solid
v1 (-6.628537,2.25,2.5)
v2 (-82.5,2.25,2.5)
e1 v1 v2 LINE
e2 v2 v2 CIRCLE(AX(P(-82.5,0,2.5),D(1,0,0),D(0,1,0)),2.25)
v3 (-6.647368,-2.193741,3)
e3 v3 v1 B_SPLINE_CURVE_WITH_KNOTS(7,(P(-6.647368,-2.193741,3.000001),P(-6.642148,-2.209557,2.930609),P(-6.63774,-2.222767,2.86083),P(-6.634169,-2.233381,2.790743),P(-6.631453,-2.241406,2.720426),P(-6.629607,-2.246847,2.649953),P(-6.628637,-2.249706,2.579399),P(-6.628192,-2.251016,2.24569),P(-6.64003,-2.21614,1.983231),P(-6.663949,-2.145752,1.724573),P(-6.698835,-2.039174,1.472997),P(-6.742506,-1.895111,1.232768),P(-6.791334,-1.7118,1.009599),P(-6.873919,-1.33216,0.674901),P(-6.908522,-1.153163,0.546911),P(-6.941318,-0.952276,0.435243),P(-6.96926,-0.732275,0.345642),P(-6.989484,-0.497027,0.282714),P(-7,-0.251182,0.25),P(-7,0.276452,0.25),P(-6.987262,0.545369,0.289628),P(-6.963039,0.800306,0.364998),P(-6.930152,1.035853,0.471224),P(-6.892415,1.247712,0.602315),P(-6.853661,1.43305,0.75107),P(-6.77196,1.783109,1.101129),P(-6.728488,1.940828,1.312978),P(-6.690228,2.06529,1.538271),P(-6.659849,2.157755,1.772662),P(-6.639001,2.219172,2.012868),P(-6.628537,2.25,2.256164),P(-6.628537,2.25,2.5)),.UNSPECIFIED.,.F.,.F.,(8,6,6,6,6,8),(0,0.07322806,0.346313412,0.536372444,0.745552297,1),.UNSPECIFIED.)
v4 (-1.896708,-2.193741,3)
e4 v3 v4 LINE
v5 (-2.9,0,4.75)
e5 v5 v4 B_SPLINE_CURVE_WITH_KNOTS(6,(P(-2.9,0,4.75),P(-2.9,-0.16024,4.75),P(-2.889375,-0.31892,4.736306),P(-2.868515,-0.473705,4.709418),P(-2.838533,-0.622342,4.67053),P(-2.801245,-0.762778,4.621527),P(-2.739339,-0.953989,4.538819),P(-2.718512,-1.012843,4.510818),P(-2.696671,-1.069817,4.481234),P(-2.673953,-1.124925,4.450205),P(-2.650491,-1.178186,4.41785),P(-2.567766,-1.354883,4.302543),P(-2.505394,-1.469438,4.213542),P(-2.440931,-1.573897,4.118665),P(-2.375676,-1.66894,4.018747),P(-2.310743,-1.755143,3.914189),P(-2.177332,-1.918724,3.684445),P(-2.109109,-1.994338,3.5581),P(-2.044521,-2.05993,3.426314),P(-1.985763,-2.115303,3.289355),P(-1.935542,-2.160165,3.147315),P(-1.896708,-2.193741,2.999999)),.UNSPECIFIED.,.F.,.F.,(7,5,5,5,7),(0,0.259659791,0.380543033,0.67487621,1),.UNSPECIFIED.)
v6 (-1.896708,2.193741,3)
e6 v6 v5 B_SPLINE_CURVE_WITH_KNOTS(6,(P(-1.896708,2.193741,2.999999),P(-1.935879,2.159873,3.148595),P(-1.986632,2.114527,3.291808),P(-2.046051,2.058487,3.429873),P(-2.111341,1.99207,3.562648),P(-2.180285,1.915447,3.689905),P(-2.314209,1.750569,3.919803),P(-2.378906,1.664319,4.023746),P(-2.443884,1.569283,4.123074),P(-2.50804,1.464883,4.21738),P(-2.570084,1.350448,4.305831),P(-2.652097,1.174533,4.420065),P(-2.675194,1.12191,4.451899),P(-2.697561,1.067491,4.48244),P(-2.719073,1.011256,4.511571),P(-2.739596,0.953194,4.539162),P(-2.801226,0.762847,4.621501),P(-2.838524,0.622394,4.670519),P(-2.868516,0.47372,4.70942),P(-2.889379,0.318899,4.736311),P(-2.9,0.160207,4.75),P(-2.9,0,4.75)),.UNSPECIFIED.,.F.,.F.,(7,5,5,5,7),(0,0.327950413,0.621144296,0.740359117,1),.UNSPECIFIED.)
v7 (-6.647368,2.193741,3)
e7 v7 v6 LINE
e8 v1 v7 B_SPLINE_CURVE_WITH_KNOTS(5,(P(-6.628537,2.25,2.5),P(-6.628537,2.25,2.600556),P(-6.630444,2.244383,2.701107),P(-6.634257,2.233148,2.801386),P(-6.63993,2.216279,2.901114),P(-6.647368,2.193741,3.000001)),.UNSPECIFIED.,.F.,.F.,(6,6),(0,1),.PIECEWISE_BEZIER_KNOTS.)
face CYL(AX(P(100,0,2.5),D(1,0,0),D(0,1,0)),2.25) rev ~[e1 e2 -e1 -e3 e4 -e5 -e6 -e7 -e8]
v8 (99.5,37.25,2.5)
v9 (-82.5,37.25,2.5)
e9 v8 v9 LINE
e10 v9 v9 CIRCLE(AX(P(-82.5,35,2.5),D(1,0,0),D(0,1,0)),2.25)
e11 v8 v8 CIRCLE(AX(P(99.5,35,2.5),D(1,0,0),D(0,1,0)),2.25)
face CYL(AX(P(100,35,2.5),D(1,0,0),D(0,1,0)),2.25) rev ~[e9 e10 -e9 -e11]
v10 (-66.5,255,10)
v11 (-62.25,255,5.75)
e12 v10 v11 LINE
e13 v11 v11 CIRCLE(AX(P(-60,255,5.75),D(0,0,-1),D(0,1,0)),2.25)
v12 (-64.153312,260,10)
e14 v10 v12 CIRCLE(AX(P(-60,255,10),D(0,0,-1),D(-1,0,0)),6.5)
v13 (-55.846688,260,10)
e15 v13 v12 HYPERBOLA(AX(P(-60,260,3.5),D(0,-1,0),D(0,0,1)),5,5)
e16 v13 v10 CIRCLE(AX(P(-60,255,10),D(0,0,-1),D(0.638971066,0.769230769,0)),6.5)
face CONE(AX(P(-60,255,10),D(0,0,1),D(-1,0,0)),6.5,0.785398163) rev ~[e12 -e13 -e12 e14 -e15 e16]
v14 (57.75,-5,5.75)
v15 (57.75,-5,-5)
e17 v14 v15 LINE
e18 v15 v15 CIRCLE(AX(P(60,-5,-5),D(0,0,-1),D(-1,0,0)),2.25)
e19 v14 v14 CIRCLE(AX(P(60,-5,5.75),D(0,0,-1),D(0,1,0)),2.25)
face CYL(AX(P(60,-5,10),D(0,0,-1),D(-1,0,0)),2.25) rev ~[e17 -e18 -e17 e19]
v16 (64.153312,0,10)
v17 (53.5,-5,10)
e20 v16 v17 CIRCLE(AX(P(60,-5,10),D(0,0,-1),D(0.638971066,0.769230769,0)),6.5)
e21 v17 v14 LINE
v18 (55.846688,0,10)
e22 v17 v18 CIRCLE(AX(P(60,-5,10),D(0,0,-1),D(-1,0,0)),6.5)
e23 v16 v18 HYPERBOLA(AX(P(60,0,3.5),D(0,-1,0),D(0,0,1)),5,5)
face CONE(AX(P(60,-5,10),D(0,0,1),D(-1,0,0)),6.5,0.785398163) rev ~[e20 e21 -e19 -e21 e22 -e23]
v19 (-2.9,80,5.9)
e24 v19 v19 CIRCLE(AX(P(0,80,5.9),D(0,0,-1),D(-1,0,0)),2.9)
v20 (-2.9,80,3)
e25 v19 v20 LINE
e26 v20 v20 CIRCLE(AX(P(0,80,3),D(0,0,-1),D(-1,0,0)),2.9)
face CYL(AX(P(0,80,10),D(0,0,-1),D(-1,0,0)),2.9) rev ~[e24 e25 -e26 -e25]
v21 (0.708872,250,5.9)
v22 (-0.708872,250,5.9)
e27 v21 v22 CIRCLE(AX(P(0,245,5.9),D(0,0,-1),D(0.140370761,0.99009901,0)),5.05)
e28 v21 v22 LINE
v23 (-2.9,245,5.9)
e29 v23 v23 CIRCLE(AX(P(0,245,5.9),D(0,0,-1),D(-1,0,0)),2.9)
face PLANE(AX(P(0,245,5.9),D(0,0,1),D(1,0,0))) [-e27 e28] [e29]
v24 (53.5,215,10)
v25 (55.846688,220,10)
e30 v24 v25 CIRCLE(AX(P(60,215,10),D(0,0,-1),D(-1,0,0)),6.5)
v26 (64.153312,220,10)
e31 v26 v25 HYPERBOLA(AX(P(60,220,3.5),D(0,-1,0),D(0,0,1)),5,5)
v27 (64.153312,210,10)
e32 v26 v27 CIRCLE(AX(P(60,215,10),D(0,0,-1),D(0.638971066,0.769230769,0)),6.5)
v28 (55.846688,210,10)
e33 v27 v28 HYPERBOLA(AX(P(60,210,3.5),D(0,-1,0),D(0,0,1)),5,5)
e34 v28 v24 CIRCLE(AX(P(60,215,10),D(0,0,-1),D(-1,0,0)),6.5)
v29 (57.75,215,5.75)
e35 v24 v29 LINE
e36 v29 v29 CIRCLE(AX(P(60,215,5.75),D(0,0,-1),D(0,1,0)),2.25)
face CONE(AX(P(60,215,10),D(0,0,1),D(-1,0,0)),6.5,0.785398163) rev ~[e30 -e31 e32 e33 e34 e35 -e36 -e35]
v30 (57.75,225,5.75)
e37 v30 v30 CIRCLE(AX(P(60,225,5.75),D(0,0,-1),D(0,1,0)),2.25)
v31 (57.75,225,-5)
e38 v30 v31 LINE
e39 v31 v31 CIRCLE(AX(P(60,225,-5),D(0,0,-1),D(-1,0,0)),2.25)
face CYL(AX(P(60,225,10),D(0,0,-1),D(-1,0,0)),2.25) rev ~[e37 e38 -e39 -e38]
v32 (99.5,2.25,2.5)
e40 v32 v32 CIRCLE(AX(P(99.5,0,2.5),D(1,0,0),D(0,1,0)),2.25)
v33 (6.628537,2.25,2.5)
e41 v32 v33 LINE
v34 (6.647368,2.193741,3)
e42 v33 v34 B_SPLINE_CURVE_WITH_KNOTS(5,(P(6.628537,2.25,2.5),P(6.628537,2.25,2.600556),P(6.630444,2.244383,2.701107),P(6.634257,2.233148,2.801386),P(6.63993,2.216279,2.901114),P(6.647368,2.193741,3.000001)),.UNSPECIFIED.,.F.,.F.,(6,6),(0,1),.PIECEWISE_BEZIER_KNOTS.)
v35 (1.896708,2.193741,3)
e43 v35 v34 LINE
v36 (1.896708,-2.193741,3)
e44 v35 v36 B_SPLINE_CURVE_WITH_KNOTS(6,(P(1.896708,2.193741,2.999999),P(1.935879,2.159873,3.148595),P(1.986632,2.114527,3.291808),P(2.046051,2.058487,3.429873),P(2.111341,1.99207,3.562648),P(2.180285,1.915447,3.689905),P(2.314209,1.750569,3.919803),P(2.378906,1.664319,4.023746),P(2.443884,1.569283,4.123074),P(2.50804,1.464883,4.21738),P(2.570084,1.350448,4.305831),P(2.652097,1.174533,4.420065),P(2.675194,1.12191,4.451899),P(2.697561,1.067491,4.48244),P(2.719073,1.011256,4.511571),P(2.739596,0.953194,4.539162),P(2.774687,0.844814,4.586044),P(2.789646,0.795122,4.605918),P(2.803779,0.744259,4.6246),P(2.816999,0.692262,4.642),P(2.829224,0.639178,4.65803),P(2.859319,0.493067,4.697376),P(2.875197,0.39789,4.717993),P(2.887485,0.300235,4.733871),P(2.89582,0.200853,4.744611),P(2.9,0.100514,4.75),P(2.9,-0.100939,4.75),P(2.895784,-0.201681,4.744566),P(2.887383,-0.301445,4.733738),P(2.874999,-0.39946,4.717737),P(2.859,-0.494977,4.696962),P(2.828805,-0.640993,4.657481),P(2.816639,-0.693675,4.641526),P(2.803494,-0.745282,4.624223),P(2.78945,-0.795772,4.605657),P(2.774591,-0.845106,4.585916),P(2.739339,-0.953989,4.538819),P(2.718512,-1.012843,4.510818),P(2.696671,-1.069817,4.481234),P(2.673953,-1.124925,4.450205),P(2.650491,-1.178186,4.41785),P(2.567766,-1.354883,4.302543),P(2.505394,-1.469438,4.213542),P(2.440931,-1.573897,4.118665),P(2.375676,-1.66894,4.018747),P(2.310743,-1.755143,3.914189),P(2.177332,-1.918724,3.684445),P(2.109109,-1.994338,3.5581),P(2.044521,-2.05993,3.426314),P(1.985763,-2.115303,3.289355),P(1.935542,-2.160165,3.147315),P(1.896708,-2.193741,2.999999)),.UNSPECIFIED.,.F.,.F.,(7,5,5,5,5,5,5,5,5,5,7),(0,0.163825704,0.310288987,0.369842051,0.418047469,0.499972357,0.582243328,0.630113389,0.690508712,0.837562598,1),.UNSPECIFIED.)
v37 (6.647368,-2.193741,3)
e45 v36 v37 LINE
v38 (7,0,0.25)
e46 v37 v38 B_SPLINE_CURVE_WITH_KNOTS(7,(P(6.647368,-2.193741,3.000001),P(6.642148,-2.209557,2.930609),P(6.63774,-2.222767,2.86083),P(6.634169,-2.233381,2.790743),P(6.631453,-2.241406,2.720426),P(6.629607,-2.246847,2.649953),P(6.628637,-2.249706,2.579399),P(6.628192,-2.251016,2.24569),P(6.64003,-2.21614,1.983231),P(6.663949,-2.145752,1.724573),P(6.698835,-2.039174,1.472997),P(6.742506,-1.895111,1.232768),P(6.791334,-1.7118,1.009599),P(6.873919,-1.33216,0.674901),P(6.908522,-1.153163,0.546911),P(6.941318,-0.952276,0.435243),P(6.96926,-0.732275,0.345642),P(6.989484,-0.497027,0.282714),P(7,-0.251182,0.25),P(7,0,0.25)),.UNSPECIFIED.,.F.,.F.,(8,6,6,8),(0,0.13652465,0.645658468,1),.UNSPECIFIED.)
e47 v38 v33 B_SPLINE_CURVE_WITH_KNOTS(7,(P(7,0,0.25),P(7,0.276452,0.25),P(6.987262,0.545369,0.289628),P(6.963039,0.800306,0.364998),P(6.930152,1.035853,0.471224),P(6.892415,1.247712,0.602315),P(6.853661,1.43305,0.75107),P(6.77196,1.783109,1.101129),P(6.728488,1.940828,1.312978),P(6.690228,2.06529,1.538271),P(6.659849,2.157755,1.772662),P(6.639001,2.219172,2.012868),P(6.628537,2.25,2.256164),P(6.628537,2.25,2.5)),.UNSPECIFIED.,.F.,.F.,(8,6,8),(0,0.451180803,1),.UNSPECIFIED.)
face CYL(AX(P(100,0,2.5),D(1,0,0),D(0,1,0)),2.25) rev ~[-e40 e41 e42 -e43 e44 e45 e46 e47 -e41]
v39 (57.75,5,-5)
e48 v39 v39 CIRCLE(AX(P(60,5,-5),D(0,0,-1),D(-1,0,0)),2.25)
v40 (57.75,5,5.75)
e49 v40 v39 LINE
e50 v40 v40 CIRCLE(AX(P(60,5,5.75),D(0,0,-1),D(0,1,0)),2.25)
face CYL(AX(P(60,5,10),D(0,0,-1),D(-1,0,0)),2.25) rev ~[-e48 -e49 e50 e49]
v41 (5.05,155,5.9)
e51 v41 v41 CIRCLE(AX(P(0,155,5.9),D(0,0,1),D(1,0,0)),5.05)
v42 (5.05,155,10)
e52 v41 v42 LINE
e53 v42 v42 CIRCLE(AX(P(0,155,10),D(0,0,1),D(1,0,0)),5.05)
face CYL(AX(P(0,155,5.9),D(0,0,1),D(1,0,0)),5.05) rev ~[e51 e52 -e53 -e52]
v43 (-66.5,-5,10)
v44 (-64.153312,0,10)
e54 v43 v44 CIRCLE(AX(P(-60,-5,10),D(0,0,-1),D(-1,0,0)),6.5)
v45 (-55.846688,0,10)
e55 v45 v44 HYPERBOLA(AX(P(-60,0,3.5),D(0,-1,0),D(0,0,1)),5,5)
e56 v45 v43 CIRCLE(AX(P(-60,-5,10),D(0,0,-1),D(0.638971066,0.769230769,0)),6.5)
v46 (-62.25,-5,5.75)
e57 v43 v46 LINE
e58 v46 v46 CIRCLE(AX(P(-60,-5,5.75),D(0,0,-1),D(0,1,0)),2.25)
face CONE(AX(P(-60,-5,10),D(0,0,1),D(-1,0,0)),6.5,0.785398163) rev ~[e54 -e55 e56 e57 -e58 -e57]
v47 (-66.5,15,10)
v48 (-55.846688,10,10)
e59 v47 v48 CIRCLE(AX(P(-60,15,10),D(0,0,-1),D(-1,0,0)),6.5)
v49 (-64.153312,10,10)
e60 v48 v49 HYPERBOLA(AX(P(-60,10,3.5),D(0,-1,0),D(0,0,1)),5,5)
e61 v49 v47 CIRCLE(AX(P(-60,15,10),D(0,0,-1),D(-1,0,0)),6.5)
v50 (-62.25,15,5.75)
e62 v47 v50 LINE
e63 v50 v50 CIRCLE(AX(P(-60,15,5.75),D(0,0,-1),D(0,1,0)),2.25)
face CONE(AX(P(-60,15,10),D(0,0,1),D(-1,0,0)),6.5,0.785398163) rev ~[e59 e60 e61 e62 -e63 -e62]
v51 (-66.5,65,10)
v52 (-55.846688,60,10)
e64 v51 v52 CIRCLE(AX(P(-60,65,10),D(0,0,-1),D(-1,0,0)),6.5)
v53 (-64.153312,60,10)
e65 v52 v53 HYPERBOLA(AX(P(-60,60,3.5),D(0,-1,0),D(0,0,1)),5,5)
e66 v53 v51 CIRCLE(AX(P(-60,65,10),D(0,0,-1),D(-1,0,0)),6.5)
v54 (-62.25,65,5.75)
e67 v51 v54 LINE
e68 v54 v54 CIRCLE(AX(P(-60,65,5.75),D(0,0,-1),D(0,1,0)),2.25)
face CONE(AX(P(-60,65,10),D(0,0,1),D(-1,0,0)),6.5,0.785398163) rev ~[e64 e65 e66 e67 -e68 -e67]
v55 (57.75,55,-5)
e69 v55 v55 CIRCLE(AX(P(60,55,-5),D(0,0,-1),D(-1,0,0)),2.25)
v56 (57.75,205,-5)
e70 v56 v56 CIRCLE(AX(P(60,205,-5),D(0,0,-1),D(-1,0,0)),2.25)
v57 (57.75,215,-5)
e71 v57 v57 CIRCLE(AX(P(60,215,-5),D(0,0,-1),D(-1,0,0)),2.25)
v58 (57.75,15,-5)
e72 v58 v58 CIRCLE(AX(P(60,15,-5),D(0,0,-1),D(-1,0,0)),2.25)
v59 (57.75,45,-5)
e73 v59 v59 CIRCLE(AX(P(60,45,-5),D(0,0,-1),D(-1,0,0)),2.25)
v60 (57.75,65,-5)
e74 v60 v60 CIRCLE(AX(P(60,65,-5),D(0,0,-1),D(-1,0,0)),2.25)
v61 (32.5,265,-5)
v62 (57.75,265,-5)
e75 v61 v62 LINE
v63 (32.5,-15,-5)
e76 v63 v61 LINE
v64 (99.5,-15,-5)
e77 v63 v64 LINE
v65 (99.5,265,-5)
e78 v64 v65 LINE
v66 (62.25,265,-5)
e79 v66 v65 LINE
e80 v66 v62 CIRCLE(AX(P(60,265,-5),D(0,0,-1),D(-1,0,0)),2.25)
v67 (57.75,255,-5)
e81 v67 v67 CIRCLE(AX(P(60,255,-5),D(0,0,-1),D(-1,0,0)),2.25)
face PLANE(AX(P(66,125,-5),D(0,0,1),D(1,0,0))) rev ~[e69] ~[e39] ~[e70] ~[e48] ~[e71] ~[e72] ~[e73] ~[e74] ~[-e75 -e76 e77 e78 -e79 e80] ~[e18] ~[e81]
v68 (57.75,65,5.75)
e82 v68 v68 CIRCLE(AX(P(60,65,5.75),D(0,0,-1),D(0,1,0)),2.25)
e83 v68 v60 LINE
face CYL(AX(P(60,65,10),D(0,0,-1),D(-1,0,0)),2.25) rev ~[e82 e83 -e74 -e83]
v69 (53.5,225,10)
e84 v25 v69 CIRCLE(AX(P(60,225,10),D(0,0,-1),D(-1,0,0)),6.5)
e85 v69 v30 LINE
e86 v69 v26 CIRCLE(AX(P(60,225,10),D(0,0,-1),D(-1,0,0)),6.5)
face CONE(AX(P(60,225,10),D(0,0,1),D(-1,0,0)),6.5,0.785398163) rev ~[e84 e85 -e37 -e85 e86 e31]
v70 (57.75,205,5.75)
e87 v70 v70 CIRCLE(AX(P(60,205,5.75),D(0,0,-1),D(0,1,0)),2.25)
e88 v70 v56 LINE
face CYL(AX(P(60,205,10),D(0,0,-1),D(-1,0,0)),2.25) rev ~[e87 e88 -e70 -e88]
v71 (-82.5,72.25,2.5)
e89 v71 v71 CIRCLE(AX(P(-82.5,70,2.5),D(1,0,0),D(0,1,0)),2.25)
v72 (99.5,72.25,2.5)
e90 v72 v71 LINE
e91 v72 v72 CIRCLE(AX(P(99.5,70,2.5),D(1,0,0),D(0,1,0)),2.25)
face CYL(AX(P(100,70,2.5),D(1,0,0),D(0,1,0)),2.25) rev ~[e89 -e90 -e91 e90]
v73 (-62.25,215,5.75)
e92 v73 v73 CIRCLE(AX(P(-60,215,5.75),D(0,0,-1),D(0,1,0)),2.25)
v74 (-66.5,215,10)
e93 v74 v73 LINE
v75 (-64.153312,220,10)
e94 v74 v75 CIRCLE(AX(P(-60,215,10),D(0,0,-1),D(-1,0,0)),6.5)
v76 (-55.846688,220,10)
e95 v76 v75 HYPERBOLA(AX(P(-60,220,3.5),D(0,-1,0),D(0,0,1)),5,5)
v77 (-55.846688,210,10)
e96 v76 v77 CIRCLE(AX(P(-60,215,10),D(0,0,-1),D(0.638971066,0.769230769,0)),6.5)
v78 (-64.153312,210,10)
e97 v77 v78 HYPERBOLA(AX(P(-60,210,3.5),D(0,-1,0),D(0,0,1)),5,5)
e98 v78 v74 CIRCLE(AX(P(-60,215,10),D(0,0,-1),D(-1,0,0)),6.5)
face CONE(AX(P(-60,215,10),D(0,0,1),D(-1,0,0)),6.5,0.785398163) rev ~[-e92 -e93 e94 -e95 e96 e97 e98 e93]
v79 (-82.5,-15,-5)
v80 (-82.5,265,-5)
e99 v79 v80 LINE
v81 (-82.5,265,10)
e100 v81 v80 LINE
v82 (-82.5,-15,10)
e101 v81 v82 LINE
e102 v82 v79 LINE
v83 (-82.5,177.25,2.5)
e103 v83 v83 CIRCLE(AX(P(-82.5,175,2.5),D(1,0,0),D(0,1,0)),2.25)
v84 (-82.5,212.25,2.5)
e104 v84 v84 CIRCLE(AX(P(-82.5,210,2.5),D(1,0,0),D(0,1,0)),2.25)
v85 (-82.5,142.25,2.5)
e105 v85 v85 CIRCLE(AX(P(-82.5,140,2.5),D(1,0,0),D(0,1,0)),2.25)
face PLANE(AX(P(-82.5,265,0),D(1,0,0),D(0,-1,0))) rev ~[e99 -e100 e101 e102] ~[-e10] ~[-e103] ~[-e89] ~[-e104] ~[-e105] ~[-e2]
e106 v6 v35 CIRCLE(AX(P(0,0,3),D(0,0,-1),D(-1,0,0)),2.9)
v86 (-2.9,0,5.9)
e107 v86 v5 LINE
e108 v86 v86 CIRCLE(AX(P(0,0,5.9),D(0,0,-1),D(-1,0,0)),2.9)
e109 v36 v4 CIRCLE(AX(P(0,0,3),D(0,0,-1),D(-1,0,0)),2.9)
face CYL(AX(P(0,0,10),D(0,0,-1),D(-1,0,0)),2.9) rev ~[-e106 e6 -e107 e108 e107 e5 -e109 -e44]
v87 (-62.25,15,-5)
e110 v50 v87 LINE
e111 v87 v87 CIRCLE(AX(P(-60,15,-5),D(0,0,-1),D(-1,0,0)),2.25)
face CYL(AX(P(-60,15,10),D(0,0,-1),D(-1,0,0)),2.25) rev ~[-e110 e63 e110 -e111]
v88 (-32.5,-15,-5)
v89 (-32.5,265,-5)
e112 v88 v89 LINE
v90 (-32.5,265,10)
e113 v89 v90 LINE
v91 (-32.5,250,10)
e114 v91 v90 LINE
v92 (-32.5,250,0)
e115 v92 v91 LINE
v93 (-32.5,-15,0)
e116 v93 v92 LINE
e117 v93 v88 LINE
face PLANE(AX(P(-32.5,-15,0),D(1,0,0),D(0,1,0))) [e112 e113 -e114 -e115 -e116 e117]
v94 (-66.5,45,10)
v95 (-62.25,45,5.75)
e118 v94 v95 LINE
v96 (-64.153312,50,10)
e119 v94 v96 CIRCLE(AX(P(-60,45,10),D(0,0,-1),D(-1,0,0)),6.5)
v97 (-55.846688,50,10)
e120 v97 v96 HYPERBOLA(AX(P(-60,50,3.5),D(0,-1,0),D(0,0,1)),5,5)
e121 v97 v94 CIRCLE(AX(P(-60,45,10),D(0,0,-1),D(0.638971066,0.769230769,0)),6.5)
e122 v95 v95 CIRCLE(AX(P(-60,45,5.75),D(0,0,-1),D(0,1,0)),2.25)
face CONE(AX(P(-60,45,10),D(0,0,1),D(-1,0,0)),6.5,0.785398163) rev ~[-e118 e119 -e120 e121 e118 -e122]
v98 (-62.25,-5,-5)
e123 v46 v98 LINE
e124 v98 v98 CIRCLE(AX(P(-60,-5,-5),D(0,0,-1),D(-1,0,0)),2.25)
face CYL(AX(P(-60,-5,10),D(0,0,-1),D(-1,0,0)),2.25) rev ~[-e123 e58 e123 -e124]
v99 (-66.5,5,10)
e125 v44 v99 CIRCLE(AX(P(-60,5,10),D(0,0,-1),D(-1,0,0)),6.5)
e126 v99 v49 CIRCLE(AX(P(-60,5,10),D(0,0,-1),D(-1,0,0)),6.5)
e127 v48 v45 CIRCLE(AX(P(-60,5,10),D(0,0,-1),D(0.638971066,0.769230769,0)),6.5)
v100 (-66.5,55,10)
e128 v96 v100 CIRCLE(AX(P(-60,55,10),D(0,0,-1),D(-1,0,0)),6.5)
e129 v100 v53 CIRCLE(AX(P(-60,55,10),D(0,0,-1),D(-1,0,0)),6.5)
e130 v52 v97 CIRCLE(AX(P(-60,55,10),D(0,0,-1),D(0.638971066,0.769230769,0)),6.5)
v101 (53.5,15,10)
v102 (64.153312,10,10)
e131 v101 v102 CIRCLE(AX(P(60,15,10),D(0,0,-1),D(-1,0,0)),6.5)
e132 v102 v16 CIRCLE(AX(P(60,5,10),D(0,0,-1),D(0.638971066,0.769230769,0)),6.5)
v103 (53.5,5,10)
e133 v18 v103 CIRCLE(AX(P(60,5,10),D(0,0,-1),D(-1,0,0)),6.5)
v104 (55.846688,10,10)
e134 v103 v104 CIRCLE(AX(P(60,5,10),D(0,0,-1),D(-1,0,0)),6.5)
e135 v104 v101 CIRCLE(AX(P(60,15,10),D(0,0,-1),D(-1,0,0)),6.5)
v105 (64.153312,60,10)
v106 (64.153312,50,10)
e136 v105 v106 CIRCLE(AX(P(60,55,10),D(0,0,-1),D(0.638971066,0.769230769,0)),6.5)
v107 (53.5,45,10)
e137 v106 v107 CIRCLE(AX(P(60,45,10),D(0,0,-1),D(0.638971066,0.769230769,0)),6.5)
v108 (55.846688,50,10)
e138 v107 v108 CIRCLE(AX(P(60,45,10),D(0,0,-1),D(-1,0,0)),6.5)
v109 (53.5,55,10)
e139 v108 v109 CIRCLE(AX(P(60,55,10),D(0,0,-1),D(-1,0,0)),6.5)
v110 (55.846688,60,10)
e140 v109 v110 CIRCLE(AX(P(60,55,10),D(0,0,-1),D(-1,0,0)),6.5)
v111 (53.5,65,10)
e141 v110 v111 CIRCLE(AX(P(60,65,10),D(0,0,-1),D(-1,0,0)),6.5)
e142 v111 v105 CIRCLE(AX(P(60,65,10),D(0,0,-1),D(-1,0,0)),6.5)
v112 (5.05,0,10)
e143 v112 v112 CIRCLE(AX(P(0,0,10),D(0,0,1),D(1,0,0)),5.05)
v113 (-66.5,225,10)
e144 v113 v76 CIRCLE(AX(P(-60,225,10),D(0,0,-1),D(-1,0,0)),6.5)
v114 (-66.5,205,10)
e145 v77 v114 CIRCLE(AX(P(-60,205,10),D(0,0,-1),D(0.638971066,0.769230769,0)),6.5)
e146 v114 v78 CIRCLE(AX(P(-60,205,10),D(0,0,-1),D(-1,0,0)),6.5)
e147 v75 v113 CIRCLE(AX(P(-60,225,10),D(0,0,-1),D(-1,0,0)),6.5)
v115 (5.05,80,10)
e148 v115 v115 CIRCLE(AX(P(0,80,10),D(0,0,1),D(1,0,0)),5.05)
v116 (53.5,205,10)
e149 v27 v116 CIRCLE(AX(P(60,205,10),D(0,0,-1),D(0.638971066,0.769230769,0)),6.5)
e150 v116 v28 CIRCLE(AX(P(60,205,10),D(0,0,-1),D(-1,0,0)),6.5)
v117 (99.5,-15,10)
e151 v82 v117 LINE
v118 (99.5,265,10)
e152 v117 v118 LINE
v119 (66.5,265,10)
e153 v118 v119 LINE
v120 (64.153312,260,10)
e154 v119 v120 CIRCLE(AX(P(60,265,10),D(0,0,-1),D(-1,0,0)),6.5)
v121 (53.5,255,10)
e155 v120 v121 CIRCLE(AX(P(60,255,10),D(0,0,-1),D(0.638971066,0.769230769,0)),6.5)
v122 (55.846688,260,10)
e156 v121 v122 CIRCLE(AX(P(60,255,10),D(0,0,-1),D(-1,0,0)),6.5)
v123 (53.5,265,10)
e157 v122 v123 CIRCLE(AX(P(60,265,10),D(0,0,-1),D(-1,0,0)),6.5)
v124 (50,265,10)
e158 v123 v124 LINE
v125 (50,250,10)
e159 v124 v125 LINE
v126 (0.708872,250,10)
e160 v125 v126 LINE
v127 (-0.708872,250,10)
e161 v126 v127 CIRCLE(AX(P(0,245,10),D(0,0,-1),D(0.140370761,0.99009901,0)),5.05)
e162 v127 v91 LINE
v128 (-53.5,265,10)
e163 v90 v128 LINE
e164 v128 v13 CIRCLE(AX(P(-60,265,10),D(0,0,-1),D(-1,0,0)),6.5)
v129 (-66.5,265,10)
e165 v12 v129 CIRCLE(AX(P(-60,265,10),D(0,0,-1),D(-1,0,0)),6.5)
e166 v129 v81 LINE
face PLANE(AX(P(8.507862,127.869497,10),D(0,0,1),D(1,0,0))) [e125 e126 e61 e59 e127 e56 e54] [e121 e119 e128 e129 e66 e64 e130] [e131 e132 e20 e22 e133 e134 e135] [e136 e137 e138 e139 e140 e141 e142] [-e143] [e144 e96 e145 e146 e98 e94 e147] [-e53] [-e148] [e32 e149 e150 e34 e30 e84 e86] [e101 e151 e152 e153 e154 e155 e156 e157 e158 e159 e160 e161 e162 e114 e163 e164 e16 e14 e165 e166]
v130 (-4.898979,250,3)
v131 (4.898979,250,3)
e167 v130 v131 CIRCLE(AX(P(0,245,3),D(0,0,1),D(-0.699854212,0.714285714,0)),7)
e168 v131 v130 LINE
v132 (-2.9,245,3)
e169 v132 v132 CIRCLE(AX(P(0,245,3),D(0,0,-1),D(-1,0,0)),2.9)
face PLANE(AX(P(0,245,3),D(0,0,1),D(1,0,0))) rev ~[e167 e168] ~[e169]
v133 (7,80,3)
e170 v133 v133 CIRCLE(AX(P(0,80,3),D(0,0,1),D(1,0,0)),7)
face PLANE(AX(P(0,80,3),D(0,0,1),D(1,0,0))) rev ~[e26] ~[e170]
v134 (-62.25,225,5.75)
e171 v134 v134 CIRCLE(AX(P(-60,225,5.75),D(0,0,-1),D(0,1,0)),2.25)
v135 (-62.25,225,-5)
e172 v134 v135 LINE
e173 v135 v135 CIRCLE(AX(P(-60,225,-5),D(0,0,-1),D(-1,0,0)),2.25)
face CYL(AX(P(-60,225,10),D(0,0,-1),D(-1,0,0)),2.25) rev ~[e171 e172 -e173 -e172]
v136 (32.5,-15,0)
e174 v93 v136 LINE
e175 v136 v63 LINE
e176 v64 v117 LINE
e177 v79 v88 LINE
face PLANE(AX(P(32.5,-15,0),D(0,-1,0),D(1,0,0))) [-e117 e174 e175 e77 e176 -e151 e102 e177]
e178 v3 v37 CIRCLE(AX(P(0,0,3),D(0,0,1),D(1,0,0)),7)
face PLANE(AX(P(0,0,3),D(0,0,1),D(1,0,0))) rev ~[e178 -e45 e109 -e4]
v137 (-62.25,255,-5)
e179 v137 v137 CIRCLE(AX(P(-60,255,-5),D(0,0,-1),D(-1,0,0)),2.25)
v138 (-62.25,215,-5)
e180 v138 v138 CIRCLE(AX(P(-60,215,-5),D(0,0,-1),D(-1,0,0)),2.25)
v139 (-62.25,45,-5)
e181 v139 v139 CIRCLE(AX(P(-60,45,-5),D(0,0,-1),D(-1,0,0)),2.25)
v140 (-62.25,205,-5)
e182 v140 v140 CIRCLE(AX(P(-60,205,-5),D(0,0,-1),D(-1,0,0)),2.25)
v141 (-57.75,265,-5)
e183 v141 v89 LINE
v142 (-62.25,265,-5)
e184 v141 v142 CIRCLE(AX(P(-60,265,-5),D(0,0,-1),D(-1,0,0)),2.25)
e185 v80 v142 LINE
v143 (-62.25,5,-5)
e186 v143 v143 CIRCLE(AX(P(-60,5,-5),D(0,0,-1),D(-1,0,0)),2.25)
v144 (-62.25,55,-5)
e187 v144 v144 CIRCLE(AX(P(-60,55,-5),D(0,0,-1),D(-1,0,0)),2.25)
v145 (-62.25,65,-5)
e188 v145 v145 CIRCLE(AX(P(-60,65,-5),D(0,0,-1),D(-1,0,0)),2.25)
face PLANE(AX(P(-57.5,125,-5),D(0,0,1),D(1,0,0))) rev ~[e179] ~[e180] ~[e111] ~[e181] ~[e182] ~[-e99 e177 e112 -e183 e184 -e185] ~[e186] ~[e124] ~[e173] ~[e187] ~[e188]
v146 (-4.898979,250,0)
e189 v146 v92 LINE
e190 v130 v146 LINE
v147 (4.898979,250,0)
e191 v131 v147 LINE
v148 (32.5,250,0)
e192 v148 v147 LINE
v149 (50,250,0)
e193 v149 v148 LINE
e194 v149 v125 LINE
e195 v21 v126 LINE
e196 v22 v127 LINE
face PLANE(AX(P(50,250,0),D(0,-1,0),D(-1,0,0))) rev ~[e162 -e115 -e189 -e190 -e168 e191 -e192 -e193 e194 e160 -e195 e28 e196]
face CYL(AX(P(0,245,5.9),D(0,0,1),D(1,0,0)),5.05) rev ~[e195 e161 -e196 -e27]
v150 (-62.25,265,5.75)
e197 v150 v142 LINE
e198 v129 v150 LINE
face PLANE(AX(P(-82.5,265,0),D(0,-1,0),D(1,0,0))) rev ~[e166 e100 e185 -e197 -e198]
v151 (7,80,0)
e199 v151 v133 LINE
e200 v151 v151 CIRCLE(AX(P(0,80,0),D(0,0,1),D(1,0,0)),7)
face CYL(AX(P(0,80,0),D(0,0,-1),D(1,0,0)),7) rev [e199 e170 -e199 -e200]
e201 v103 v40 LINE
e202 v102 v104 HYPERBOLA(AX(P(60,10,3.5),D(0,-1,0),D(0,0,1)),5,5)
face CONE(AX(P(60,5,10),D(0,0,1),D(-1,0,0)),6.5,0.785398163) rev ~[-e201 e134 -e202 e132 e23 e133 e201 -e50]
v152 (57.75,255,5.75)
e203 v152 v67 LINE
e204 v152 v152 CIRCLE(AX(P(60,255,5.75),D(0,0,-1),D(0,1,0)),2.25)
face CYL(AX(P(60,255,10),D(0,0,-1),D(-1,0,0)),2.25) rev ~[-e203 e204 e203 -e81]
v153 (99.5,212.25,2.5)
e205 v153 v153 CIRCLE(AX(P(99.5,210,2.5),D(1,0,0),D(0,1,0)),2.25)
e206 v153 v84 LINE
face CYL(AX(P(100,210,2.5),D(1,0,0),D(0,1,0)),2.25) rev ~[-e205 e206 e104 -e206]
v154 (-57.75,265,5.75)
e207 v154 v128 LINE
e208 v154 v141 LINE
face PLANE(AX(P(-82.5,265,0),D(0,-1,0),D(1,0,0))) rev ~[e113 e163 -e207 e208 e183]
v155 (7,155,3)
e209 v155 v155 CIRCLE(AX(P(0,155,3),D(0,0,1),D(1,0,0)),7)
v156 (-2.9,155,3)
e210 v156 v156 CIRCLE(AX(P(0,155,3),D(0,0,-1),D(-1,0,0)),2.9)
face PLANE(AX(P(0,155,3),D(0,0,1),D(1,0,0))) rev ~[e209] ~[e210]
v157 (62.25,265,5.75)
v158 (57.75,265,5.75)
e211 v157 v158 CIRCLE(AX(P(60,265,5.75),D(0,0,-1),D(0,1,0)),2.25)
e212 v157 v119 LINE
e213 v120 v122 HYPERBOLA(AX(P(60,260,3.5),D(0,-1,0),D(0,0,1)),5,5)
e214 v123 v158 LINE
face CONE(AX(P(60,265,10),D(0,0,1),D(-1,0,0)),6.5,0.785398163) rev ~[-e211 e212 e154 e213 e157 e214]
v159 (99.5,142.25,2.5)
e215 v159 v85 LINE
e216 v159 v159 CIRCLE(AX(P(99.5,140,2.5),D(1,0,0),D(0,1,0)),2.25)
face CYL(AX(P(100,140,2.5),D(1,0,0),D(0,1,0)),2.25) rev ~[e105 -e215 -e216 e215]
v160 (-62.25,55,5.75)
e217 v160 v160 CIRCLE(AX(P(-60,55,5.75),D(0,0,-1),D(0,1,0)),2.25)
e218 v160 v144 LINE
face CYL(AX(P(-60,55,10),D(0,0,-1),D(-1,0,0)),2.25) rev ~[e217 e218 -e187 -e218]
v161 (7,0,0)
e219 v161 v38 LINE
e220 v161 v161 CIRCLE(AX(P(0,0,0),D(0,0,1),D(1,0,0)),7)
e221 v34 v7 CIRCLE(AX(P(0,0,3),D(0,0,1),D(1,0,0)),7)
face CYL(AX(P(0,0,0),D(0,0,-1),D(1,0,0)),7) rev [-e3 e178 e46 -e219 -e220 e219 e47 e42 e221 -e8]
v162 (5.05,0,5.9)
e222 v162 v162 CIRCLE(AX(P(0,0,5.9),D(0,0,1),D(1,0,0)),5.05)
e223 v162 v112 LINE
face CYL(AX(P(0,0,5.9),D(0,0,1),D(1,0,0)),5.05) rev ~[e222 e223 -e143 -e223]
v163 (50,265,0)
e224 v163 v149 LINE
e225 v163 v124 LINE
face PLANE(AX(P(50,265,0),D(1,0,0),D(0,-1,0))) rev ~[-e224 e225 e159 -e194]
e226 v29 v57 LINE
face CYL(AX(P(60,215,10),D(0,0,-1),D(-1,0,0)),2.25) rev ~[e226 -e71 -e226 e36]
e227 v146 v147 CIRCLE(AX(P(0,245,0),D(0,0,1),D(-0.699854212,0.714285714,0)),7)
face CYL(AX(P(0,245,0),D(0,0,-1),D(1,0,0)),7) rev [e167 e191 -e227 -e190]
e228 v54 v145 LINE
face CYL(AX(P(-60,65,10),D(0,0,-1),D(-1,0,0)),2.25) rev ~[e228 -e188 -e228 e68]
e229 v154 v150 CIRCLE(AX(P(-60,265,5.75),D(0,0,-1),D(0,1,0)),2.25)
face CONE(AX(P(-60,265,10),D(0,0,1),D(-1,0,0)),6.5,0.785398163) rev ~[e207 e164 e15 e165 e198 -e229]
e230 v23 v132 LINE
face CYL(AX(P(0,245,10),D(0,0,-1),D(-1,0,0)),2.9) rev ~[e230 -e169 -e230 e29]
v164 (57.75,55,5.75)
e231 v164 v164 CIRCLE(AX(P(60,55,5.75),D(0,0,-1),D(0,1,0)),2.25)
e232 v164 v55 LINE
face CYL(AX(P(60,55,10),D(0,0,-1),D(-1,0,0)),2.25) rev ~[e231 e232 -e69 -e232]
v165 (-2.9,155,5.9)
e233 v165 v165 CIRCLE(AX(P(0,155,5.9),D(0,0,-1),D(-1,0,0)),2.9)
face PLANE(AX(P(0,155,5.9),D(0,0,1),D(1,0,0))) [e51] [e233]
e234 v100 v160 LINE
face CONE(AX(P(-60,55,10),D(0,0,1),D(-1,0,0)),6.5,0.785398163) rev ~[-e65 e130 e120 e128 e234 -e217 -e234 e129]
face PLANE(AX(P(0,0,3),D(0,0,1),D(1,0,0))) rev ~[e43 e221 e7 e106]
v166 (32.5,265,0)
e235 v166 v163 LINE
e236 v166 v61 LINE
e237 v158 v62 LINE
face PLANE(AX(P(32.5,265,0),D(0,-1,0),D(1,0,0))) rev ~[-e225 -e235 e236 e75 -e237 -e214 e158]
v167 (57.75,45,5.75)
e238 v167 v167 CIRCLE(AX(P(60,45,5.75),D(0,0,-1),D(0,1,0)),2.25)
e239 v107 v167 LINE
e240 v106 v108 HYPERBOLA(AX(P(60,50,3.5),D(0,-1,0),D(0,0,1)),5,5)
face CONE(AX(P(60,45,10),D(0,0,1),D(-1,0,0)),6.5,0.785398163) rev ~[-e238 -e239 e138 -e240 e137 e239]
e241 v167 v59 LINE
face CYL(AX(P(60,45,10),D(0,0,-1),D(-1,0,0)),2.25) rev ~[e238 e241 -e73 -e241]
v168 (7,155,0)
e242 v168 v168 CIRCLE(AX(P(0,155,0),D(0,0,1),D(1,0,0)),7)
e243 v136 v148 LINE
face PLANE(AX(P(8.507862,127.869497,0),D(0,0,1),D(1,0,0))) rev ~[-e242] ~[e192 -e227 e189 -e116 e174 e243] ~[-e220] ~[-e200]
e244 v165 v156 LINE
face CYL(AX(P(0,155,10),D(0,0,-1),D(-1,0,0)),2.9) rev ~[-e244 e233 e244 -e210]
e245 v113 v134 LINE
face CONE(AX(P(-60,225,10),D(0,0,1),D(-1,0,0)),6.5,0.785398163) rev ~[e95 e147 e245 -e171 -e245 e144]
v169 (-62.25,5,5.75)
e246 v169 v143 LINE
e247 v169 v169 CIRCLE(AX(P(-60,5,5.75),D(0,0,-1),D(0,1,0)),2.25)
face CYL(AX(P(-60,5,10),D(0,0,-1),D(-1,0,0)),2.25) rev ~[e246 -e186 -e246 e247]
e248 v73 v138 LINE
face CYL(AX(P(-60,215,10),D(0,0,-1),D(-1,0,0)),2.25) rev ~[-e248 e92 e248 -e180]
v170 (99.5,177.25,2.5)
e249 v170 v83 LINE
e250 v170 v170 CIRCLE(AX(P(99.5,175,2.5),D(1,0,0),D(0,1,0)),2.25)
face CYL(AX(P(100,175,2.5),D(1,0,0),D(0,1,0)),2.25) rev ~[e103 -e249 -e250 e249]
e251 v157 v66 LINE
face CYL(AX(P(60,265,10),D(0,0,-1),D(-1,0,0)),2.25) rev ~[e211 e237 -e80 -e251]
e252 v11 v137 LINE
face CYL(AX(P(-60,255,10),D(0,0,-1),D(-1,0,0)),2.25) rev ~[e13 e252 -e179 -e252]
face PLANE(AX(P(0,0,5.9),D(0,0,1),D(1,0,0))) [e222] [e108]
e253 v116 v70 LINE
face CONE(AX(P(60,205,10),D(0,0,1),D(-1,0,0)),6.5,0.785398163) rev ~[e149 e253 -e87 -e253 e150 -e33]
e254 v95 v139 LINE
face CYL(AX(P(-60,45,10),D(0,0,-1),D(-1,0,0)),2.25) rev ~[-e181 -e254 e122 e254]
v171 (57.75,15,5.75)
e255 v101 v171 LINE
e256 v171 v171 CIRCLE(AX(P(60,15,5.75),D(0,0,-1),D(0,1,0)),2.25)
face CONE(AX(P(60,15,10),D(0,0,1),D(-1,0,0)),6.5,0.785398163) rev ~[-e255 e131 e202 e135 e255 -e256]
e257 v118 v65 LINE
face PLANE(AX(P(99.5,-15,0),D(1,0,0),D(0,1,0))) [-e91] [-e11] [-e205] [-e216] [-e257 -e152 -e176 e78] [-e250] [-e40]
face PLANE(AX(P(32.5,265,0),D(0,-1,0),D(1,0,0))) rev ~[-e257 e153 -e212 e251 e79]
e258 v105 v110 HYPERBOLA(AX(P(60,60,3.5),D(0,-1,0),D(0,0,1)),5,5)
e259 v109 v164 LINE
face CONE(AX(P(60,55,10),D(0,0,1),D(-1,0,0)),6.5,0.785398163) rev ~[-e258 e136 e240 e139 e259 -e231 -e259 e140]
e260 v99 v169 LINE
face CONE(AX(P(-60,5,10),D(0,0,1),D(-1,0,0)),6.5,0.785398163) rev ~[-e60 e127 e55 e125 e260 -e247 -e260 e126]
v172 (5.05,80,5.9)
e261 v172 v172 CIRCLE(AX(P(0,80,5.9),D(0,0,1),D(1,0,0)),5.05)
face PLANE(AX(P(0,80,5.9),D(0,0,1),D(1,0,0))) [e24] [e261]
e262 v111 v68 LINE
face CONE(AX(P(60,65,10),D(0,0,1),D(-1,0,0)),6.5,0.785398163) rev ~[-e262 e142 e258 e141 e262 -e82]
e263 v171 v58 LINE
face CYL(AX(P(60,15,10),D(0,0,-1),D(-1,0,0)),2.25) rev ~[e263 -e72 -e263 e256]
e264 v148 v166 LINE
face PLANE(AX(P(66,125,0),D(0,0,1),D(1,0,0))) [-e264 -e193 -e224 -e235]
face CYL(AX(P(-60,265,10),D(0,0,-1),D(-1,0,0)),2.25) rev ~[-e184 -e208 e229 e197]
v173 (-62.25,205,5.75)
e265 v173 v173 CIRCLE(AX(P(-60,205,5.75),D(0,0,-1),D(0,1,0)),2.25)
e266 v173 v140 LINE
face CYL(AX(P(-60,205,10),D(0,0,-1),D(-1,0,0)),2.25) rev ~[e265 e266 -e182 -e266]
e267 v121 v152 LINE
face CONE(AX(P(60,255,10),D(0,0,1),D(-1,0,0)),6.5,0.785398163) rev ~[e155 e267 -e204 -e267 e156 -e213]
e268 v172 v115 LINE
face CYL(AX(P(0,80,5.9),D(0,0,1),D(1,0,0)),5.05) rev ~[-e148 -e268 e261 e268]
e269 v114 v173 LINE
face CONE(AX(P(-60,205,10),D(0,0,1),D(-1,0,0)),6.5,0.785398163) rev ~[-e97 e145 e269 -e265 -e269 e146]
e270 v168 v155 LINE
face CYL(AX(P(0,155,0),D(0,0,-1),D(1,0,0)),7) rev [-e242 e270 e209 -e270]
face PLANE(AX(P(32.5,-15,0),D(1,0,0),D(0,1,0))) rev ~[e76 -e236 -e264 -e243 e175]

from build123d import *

# Parameters (mm, degrees)
PAD_DEPTH           = 10
SKETCH001_R         = 7
POCKET_DEPTH        = 3
HOLE_D              = 5.8
HOLE_DEPTH          = 25
HOLE_CBORE_D        = 10.1
HOLE_CBORE_DEPTH    = 4.1
SKETCH033_W         = 67
SKETCH033_H         = 280
SKETCH033_W_2       = 50
PAD009_DEPTH        = 5
SKETCH034_R         = 2.25
HOLE009_DEPTH       = 182.501
HOLE015_D           = 4.5
HOLE015_DEPTH       = 25
HOLE015_CSINK_D     = 13
HOLE015_CSINK_ANGLE = 90


with BuildPart() as part:
    # Sketch → Pad (new body)
    with BuildSketch(Plane.XY):
        Polygon((-82.5, 265), (-82.5, -15), (99.5, -15), (99.5, 265), (50, 265), (50, 250), (-32.5, 250), (-32.5, 265), align=None)
    extrude(amount=PAD_DEPTH)

    # Sketch001 → Pocket (cut)
    with BuildSketch(Plane.XY):
        Circle(SKETCH001_R)
        with Locations((0, 80)):
            Circle(SKETCH001_R)
        with Locations((0, 155)):
            Circle(SKETCH001_R)
        with Locations((0, 245)):
            Circle(SKETCH001_R)
    extrude(amount=POCKET_DEPTH, mode=Mode.SUBTRACT)

    # Hole
    with Locations(Plane.XY.offset(10)):
        with Locations((0, 0), (0, 80), (0, 155), (0, 245)):
            CounterBoreHole(HOLE_D / 2, HOLE_CBORE_D / 2, HOLE_CBORE_DEPTH, depth=HOLE_DEPTH)

    # Sketch033 → Pad009 (join)
    with BuildSketch(Plane.XY):
        with Locations((66, 125)):
            Rectangle(SKETCH033_W, SKETCH033_H)
        with Locations((-57.5, 125)):
            Rectangle(SKETCH033_W_2, SKETCH033_H)
    extrude(amount=-PAD009_DEPTH)

    # Sketch034 → Hole009 (cut, through all)
    with BuildSketch(Plane.YZ.offset(100)):
        with Locations((0, 2.5)):
            Circle(SKETCH034_R)
        with Locations((35, 2.5)):
            Circle(SKETCH034_R)
        with Locations((70, 2.5)):
            Circle(SKETCH034_R)
        with Locations((140, 2.5)):
            Circle(SKETCH034_R)
        with Locations((175, 2.5)):
            Circle(SKETCH034_R)
        with Locations((210, 2.5)):
            Circle(SKETCH034_R)
    extrude(amount=-HOLE009_DEPTH, mode=Mode.SUBTRACT)

    # Hole015
    with Locations(Plane.XY.offset(10)):
        with Locations((-60, 255), (-60, 205), (60, 255), (60, 205), (60, 45), (60, -5), (-60, -5), (-60, 45), (60, 55), (60, 5), (-60, 5), (-60, 55), (60, 65), (60, 15), (-60, 15), (-60, 65), (-60, 265), (-60, 215), (60, 265), (60, 215), (-60, 275), (-60, 225), (60, 275), (60, 225)):
            CounterSinkHole(HOLE015_D / 2, HOLE015_CSINK_D / 2, depth=HOLE015_DEPTH, counter_sink_angle=HOLE015_CSINK_ANGLE)


solid = part.part
